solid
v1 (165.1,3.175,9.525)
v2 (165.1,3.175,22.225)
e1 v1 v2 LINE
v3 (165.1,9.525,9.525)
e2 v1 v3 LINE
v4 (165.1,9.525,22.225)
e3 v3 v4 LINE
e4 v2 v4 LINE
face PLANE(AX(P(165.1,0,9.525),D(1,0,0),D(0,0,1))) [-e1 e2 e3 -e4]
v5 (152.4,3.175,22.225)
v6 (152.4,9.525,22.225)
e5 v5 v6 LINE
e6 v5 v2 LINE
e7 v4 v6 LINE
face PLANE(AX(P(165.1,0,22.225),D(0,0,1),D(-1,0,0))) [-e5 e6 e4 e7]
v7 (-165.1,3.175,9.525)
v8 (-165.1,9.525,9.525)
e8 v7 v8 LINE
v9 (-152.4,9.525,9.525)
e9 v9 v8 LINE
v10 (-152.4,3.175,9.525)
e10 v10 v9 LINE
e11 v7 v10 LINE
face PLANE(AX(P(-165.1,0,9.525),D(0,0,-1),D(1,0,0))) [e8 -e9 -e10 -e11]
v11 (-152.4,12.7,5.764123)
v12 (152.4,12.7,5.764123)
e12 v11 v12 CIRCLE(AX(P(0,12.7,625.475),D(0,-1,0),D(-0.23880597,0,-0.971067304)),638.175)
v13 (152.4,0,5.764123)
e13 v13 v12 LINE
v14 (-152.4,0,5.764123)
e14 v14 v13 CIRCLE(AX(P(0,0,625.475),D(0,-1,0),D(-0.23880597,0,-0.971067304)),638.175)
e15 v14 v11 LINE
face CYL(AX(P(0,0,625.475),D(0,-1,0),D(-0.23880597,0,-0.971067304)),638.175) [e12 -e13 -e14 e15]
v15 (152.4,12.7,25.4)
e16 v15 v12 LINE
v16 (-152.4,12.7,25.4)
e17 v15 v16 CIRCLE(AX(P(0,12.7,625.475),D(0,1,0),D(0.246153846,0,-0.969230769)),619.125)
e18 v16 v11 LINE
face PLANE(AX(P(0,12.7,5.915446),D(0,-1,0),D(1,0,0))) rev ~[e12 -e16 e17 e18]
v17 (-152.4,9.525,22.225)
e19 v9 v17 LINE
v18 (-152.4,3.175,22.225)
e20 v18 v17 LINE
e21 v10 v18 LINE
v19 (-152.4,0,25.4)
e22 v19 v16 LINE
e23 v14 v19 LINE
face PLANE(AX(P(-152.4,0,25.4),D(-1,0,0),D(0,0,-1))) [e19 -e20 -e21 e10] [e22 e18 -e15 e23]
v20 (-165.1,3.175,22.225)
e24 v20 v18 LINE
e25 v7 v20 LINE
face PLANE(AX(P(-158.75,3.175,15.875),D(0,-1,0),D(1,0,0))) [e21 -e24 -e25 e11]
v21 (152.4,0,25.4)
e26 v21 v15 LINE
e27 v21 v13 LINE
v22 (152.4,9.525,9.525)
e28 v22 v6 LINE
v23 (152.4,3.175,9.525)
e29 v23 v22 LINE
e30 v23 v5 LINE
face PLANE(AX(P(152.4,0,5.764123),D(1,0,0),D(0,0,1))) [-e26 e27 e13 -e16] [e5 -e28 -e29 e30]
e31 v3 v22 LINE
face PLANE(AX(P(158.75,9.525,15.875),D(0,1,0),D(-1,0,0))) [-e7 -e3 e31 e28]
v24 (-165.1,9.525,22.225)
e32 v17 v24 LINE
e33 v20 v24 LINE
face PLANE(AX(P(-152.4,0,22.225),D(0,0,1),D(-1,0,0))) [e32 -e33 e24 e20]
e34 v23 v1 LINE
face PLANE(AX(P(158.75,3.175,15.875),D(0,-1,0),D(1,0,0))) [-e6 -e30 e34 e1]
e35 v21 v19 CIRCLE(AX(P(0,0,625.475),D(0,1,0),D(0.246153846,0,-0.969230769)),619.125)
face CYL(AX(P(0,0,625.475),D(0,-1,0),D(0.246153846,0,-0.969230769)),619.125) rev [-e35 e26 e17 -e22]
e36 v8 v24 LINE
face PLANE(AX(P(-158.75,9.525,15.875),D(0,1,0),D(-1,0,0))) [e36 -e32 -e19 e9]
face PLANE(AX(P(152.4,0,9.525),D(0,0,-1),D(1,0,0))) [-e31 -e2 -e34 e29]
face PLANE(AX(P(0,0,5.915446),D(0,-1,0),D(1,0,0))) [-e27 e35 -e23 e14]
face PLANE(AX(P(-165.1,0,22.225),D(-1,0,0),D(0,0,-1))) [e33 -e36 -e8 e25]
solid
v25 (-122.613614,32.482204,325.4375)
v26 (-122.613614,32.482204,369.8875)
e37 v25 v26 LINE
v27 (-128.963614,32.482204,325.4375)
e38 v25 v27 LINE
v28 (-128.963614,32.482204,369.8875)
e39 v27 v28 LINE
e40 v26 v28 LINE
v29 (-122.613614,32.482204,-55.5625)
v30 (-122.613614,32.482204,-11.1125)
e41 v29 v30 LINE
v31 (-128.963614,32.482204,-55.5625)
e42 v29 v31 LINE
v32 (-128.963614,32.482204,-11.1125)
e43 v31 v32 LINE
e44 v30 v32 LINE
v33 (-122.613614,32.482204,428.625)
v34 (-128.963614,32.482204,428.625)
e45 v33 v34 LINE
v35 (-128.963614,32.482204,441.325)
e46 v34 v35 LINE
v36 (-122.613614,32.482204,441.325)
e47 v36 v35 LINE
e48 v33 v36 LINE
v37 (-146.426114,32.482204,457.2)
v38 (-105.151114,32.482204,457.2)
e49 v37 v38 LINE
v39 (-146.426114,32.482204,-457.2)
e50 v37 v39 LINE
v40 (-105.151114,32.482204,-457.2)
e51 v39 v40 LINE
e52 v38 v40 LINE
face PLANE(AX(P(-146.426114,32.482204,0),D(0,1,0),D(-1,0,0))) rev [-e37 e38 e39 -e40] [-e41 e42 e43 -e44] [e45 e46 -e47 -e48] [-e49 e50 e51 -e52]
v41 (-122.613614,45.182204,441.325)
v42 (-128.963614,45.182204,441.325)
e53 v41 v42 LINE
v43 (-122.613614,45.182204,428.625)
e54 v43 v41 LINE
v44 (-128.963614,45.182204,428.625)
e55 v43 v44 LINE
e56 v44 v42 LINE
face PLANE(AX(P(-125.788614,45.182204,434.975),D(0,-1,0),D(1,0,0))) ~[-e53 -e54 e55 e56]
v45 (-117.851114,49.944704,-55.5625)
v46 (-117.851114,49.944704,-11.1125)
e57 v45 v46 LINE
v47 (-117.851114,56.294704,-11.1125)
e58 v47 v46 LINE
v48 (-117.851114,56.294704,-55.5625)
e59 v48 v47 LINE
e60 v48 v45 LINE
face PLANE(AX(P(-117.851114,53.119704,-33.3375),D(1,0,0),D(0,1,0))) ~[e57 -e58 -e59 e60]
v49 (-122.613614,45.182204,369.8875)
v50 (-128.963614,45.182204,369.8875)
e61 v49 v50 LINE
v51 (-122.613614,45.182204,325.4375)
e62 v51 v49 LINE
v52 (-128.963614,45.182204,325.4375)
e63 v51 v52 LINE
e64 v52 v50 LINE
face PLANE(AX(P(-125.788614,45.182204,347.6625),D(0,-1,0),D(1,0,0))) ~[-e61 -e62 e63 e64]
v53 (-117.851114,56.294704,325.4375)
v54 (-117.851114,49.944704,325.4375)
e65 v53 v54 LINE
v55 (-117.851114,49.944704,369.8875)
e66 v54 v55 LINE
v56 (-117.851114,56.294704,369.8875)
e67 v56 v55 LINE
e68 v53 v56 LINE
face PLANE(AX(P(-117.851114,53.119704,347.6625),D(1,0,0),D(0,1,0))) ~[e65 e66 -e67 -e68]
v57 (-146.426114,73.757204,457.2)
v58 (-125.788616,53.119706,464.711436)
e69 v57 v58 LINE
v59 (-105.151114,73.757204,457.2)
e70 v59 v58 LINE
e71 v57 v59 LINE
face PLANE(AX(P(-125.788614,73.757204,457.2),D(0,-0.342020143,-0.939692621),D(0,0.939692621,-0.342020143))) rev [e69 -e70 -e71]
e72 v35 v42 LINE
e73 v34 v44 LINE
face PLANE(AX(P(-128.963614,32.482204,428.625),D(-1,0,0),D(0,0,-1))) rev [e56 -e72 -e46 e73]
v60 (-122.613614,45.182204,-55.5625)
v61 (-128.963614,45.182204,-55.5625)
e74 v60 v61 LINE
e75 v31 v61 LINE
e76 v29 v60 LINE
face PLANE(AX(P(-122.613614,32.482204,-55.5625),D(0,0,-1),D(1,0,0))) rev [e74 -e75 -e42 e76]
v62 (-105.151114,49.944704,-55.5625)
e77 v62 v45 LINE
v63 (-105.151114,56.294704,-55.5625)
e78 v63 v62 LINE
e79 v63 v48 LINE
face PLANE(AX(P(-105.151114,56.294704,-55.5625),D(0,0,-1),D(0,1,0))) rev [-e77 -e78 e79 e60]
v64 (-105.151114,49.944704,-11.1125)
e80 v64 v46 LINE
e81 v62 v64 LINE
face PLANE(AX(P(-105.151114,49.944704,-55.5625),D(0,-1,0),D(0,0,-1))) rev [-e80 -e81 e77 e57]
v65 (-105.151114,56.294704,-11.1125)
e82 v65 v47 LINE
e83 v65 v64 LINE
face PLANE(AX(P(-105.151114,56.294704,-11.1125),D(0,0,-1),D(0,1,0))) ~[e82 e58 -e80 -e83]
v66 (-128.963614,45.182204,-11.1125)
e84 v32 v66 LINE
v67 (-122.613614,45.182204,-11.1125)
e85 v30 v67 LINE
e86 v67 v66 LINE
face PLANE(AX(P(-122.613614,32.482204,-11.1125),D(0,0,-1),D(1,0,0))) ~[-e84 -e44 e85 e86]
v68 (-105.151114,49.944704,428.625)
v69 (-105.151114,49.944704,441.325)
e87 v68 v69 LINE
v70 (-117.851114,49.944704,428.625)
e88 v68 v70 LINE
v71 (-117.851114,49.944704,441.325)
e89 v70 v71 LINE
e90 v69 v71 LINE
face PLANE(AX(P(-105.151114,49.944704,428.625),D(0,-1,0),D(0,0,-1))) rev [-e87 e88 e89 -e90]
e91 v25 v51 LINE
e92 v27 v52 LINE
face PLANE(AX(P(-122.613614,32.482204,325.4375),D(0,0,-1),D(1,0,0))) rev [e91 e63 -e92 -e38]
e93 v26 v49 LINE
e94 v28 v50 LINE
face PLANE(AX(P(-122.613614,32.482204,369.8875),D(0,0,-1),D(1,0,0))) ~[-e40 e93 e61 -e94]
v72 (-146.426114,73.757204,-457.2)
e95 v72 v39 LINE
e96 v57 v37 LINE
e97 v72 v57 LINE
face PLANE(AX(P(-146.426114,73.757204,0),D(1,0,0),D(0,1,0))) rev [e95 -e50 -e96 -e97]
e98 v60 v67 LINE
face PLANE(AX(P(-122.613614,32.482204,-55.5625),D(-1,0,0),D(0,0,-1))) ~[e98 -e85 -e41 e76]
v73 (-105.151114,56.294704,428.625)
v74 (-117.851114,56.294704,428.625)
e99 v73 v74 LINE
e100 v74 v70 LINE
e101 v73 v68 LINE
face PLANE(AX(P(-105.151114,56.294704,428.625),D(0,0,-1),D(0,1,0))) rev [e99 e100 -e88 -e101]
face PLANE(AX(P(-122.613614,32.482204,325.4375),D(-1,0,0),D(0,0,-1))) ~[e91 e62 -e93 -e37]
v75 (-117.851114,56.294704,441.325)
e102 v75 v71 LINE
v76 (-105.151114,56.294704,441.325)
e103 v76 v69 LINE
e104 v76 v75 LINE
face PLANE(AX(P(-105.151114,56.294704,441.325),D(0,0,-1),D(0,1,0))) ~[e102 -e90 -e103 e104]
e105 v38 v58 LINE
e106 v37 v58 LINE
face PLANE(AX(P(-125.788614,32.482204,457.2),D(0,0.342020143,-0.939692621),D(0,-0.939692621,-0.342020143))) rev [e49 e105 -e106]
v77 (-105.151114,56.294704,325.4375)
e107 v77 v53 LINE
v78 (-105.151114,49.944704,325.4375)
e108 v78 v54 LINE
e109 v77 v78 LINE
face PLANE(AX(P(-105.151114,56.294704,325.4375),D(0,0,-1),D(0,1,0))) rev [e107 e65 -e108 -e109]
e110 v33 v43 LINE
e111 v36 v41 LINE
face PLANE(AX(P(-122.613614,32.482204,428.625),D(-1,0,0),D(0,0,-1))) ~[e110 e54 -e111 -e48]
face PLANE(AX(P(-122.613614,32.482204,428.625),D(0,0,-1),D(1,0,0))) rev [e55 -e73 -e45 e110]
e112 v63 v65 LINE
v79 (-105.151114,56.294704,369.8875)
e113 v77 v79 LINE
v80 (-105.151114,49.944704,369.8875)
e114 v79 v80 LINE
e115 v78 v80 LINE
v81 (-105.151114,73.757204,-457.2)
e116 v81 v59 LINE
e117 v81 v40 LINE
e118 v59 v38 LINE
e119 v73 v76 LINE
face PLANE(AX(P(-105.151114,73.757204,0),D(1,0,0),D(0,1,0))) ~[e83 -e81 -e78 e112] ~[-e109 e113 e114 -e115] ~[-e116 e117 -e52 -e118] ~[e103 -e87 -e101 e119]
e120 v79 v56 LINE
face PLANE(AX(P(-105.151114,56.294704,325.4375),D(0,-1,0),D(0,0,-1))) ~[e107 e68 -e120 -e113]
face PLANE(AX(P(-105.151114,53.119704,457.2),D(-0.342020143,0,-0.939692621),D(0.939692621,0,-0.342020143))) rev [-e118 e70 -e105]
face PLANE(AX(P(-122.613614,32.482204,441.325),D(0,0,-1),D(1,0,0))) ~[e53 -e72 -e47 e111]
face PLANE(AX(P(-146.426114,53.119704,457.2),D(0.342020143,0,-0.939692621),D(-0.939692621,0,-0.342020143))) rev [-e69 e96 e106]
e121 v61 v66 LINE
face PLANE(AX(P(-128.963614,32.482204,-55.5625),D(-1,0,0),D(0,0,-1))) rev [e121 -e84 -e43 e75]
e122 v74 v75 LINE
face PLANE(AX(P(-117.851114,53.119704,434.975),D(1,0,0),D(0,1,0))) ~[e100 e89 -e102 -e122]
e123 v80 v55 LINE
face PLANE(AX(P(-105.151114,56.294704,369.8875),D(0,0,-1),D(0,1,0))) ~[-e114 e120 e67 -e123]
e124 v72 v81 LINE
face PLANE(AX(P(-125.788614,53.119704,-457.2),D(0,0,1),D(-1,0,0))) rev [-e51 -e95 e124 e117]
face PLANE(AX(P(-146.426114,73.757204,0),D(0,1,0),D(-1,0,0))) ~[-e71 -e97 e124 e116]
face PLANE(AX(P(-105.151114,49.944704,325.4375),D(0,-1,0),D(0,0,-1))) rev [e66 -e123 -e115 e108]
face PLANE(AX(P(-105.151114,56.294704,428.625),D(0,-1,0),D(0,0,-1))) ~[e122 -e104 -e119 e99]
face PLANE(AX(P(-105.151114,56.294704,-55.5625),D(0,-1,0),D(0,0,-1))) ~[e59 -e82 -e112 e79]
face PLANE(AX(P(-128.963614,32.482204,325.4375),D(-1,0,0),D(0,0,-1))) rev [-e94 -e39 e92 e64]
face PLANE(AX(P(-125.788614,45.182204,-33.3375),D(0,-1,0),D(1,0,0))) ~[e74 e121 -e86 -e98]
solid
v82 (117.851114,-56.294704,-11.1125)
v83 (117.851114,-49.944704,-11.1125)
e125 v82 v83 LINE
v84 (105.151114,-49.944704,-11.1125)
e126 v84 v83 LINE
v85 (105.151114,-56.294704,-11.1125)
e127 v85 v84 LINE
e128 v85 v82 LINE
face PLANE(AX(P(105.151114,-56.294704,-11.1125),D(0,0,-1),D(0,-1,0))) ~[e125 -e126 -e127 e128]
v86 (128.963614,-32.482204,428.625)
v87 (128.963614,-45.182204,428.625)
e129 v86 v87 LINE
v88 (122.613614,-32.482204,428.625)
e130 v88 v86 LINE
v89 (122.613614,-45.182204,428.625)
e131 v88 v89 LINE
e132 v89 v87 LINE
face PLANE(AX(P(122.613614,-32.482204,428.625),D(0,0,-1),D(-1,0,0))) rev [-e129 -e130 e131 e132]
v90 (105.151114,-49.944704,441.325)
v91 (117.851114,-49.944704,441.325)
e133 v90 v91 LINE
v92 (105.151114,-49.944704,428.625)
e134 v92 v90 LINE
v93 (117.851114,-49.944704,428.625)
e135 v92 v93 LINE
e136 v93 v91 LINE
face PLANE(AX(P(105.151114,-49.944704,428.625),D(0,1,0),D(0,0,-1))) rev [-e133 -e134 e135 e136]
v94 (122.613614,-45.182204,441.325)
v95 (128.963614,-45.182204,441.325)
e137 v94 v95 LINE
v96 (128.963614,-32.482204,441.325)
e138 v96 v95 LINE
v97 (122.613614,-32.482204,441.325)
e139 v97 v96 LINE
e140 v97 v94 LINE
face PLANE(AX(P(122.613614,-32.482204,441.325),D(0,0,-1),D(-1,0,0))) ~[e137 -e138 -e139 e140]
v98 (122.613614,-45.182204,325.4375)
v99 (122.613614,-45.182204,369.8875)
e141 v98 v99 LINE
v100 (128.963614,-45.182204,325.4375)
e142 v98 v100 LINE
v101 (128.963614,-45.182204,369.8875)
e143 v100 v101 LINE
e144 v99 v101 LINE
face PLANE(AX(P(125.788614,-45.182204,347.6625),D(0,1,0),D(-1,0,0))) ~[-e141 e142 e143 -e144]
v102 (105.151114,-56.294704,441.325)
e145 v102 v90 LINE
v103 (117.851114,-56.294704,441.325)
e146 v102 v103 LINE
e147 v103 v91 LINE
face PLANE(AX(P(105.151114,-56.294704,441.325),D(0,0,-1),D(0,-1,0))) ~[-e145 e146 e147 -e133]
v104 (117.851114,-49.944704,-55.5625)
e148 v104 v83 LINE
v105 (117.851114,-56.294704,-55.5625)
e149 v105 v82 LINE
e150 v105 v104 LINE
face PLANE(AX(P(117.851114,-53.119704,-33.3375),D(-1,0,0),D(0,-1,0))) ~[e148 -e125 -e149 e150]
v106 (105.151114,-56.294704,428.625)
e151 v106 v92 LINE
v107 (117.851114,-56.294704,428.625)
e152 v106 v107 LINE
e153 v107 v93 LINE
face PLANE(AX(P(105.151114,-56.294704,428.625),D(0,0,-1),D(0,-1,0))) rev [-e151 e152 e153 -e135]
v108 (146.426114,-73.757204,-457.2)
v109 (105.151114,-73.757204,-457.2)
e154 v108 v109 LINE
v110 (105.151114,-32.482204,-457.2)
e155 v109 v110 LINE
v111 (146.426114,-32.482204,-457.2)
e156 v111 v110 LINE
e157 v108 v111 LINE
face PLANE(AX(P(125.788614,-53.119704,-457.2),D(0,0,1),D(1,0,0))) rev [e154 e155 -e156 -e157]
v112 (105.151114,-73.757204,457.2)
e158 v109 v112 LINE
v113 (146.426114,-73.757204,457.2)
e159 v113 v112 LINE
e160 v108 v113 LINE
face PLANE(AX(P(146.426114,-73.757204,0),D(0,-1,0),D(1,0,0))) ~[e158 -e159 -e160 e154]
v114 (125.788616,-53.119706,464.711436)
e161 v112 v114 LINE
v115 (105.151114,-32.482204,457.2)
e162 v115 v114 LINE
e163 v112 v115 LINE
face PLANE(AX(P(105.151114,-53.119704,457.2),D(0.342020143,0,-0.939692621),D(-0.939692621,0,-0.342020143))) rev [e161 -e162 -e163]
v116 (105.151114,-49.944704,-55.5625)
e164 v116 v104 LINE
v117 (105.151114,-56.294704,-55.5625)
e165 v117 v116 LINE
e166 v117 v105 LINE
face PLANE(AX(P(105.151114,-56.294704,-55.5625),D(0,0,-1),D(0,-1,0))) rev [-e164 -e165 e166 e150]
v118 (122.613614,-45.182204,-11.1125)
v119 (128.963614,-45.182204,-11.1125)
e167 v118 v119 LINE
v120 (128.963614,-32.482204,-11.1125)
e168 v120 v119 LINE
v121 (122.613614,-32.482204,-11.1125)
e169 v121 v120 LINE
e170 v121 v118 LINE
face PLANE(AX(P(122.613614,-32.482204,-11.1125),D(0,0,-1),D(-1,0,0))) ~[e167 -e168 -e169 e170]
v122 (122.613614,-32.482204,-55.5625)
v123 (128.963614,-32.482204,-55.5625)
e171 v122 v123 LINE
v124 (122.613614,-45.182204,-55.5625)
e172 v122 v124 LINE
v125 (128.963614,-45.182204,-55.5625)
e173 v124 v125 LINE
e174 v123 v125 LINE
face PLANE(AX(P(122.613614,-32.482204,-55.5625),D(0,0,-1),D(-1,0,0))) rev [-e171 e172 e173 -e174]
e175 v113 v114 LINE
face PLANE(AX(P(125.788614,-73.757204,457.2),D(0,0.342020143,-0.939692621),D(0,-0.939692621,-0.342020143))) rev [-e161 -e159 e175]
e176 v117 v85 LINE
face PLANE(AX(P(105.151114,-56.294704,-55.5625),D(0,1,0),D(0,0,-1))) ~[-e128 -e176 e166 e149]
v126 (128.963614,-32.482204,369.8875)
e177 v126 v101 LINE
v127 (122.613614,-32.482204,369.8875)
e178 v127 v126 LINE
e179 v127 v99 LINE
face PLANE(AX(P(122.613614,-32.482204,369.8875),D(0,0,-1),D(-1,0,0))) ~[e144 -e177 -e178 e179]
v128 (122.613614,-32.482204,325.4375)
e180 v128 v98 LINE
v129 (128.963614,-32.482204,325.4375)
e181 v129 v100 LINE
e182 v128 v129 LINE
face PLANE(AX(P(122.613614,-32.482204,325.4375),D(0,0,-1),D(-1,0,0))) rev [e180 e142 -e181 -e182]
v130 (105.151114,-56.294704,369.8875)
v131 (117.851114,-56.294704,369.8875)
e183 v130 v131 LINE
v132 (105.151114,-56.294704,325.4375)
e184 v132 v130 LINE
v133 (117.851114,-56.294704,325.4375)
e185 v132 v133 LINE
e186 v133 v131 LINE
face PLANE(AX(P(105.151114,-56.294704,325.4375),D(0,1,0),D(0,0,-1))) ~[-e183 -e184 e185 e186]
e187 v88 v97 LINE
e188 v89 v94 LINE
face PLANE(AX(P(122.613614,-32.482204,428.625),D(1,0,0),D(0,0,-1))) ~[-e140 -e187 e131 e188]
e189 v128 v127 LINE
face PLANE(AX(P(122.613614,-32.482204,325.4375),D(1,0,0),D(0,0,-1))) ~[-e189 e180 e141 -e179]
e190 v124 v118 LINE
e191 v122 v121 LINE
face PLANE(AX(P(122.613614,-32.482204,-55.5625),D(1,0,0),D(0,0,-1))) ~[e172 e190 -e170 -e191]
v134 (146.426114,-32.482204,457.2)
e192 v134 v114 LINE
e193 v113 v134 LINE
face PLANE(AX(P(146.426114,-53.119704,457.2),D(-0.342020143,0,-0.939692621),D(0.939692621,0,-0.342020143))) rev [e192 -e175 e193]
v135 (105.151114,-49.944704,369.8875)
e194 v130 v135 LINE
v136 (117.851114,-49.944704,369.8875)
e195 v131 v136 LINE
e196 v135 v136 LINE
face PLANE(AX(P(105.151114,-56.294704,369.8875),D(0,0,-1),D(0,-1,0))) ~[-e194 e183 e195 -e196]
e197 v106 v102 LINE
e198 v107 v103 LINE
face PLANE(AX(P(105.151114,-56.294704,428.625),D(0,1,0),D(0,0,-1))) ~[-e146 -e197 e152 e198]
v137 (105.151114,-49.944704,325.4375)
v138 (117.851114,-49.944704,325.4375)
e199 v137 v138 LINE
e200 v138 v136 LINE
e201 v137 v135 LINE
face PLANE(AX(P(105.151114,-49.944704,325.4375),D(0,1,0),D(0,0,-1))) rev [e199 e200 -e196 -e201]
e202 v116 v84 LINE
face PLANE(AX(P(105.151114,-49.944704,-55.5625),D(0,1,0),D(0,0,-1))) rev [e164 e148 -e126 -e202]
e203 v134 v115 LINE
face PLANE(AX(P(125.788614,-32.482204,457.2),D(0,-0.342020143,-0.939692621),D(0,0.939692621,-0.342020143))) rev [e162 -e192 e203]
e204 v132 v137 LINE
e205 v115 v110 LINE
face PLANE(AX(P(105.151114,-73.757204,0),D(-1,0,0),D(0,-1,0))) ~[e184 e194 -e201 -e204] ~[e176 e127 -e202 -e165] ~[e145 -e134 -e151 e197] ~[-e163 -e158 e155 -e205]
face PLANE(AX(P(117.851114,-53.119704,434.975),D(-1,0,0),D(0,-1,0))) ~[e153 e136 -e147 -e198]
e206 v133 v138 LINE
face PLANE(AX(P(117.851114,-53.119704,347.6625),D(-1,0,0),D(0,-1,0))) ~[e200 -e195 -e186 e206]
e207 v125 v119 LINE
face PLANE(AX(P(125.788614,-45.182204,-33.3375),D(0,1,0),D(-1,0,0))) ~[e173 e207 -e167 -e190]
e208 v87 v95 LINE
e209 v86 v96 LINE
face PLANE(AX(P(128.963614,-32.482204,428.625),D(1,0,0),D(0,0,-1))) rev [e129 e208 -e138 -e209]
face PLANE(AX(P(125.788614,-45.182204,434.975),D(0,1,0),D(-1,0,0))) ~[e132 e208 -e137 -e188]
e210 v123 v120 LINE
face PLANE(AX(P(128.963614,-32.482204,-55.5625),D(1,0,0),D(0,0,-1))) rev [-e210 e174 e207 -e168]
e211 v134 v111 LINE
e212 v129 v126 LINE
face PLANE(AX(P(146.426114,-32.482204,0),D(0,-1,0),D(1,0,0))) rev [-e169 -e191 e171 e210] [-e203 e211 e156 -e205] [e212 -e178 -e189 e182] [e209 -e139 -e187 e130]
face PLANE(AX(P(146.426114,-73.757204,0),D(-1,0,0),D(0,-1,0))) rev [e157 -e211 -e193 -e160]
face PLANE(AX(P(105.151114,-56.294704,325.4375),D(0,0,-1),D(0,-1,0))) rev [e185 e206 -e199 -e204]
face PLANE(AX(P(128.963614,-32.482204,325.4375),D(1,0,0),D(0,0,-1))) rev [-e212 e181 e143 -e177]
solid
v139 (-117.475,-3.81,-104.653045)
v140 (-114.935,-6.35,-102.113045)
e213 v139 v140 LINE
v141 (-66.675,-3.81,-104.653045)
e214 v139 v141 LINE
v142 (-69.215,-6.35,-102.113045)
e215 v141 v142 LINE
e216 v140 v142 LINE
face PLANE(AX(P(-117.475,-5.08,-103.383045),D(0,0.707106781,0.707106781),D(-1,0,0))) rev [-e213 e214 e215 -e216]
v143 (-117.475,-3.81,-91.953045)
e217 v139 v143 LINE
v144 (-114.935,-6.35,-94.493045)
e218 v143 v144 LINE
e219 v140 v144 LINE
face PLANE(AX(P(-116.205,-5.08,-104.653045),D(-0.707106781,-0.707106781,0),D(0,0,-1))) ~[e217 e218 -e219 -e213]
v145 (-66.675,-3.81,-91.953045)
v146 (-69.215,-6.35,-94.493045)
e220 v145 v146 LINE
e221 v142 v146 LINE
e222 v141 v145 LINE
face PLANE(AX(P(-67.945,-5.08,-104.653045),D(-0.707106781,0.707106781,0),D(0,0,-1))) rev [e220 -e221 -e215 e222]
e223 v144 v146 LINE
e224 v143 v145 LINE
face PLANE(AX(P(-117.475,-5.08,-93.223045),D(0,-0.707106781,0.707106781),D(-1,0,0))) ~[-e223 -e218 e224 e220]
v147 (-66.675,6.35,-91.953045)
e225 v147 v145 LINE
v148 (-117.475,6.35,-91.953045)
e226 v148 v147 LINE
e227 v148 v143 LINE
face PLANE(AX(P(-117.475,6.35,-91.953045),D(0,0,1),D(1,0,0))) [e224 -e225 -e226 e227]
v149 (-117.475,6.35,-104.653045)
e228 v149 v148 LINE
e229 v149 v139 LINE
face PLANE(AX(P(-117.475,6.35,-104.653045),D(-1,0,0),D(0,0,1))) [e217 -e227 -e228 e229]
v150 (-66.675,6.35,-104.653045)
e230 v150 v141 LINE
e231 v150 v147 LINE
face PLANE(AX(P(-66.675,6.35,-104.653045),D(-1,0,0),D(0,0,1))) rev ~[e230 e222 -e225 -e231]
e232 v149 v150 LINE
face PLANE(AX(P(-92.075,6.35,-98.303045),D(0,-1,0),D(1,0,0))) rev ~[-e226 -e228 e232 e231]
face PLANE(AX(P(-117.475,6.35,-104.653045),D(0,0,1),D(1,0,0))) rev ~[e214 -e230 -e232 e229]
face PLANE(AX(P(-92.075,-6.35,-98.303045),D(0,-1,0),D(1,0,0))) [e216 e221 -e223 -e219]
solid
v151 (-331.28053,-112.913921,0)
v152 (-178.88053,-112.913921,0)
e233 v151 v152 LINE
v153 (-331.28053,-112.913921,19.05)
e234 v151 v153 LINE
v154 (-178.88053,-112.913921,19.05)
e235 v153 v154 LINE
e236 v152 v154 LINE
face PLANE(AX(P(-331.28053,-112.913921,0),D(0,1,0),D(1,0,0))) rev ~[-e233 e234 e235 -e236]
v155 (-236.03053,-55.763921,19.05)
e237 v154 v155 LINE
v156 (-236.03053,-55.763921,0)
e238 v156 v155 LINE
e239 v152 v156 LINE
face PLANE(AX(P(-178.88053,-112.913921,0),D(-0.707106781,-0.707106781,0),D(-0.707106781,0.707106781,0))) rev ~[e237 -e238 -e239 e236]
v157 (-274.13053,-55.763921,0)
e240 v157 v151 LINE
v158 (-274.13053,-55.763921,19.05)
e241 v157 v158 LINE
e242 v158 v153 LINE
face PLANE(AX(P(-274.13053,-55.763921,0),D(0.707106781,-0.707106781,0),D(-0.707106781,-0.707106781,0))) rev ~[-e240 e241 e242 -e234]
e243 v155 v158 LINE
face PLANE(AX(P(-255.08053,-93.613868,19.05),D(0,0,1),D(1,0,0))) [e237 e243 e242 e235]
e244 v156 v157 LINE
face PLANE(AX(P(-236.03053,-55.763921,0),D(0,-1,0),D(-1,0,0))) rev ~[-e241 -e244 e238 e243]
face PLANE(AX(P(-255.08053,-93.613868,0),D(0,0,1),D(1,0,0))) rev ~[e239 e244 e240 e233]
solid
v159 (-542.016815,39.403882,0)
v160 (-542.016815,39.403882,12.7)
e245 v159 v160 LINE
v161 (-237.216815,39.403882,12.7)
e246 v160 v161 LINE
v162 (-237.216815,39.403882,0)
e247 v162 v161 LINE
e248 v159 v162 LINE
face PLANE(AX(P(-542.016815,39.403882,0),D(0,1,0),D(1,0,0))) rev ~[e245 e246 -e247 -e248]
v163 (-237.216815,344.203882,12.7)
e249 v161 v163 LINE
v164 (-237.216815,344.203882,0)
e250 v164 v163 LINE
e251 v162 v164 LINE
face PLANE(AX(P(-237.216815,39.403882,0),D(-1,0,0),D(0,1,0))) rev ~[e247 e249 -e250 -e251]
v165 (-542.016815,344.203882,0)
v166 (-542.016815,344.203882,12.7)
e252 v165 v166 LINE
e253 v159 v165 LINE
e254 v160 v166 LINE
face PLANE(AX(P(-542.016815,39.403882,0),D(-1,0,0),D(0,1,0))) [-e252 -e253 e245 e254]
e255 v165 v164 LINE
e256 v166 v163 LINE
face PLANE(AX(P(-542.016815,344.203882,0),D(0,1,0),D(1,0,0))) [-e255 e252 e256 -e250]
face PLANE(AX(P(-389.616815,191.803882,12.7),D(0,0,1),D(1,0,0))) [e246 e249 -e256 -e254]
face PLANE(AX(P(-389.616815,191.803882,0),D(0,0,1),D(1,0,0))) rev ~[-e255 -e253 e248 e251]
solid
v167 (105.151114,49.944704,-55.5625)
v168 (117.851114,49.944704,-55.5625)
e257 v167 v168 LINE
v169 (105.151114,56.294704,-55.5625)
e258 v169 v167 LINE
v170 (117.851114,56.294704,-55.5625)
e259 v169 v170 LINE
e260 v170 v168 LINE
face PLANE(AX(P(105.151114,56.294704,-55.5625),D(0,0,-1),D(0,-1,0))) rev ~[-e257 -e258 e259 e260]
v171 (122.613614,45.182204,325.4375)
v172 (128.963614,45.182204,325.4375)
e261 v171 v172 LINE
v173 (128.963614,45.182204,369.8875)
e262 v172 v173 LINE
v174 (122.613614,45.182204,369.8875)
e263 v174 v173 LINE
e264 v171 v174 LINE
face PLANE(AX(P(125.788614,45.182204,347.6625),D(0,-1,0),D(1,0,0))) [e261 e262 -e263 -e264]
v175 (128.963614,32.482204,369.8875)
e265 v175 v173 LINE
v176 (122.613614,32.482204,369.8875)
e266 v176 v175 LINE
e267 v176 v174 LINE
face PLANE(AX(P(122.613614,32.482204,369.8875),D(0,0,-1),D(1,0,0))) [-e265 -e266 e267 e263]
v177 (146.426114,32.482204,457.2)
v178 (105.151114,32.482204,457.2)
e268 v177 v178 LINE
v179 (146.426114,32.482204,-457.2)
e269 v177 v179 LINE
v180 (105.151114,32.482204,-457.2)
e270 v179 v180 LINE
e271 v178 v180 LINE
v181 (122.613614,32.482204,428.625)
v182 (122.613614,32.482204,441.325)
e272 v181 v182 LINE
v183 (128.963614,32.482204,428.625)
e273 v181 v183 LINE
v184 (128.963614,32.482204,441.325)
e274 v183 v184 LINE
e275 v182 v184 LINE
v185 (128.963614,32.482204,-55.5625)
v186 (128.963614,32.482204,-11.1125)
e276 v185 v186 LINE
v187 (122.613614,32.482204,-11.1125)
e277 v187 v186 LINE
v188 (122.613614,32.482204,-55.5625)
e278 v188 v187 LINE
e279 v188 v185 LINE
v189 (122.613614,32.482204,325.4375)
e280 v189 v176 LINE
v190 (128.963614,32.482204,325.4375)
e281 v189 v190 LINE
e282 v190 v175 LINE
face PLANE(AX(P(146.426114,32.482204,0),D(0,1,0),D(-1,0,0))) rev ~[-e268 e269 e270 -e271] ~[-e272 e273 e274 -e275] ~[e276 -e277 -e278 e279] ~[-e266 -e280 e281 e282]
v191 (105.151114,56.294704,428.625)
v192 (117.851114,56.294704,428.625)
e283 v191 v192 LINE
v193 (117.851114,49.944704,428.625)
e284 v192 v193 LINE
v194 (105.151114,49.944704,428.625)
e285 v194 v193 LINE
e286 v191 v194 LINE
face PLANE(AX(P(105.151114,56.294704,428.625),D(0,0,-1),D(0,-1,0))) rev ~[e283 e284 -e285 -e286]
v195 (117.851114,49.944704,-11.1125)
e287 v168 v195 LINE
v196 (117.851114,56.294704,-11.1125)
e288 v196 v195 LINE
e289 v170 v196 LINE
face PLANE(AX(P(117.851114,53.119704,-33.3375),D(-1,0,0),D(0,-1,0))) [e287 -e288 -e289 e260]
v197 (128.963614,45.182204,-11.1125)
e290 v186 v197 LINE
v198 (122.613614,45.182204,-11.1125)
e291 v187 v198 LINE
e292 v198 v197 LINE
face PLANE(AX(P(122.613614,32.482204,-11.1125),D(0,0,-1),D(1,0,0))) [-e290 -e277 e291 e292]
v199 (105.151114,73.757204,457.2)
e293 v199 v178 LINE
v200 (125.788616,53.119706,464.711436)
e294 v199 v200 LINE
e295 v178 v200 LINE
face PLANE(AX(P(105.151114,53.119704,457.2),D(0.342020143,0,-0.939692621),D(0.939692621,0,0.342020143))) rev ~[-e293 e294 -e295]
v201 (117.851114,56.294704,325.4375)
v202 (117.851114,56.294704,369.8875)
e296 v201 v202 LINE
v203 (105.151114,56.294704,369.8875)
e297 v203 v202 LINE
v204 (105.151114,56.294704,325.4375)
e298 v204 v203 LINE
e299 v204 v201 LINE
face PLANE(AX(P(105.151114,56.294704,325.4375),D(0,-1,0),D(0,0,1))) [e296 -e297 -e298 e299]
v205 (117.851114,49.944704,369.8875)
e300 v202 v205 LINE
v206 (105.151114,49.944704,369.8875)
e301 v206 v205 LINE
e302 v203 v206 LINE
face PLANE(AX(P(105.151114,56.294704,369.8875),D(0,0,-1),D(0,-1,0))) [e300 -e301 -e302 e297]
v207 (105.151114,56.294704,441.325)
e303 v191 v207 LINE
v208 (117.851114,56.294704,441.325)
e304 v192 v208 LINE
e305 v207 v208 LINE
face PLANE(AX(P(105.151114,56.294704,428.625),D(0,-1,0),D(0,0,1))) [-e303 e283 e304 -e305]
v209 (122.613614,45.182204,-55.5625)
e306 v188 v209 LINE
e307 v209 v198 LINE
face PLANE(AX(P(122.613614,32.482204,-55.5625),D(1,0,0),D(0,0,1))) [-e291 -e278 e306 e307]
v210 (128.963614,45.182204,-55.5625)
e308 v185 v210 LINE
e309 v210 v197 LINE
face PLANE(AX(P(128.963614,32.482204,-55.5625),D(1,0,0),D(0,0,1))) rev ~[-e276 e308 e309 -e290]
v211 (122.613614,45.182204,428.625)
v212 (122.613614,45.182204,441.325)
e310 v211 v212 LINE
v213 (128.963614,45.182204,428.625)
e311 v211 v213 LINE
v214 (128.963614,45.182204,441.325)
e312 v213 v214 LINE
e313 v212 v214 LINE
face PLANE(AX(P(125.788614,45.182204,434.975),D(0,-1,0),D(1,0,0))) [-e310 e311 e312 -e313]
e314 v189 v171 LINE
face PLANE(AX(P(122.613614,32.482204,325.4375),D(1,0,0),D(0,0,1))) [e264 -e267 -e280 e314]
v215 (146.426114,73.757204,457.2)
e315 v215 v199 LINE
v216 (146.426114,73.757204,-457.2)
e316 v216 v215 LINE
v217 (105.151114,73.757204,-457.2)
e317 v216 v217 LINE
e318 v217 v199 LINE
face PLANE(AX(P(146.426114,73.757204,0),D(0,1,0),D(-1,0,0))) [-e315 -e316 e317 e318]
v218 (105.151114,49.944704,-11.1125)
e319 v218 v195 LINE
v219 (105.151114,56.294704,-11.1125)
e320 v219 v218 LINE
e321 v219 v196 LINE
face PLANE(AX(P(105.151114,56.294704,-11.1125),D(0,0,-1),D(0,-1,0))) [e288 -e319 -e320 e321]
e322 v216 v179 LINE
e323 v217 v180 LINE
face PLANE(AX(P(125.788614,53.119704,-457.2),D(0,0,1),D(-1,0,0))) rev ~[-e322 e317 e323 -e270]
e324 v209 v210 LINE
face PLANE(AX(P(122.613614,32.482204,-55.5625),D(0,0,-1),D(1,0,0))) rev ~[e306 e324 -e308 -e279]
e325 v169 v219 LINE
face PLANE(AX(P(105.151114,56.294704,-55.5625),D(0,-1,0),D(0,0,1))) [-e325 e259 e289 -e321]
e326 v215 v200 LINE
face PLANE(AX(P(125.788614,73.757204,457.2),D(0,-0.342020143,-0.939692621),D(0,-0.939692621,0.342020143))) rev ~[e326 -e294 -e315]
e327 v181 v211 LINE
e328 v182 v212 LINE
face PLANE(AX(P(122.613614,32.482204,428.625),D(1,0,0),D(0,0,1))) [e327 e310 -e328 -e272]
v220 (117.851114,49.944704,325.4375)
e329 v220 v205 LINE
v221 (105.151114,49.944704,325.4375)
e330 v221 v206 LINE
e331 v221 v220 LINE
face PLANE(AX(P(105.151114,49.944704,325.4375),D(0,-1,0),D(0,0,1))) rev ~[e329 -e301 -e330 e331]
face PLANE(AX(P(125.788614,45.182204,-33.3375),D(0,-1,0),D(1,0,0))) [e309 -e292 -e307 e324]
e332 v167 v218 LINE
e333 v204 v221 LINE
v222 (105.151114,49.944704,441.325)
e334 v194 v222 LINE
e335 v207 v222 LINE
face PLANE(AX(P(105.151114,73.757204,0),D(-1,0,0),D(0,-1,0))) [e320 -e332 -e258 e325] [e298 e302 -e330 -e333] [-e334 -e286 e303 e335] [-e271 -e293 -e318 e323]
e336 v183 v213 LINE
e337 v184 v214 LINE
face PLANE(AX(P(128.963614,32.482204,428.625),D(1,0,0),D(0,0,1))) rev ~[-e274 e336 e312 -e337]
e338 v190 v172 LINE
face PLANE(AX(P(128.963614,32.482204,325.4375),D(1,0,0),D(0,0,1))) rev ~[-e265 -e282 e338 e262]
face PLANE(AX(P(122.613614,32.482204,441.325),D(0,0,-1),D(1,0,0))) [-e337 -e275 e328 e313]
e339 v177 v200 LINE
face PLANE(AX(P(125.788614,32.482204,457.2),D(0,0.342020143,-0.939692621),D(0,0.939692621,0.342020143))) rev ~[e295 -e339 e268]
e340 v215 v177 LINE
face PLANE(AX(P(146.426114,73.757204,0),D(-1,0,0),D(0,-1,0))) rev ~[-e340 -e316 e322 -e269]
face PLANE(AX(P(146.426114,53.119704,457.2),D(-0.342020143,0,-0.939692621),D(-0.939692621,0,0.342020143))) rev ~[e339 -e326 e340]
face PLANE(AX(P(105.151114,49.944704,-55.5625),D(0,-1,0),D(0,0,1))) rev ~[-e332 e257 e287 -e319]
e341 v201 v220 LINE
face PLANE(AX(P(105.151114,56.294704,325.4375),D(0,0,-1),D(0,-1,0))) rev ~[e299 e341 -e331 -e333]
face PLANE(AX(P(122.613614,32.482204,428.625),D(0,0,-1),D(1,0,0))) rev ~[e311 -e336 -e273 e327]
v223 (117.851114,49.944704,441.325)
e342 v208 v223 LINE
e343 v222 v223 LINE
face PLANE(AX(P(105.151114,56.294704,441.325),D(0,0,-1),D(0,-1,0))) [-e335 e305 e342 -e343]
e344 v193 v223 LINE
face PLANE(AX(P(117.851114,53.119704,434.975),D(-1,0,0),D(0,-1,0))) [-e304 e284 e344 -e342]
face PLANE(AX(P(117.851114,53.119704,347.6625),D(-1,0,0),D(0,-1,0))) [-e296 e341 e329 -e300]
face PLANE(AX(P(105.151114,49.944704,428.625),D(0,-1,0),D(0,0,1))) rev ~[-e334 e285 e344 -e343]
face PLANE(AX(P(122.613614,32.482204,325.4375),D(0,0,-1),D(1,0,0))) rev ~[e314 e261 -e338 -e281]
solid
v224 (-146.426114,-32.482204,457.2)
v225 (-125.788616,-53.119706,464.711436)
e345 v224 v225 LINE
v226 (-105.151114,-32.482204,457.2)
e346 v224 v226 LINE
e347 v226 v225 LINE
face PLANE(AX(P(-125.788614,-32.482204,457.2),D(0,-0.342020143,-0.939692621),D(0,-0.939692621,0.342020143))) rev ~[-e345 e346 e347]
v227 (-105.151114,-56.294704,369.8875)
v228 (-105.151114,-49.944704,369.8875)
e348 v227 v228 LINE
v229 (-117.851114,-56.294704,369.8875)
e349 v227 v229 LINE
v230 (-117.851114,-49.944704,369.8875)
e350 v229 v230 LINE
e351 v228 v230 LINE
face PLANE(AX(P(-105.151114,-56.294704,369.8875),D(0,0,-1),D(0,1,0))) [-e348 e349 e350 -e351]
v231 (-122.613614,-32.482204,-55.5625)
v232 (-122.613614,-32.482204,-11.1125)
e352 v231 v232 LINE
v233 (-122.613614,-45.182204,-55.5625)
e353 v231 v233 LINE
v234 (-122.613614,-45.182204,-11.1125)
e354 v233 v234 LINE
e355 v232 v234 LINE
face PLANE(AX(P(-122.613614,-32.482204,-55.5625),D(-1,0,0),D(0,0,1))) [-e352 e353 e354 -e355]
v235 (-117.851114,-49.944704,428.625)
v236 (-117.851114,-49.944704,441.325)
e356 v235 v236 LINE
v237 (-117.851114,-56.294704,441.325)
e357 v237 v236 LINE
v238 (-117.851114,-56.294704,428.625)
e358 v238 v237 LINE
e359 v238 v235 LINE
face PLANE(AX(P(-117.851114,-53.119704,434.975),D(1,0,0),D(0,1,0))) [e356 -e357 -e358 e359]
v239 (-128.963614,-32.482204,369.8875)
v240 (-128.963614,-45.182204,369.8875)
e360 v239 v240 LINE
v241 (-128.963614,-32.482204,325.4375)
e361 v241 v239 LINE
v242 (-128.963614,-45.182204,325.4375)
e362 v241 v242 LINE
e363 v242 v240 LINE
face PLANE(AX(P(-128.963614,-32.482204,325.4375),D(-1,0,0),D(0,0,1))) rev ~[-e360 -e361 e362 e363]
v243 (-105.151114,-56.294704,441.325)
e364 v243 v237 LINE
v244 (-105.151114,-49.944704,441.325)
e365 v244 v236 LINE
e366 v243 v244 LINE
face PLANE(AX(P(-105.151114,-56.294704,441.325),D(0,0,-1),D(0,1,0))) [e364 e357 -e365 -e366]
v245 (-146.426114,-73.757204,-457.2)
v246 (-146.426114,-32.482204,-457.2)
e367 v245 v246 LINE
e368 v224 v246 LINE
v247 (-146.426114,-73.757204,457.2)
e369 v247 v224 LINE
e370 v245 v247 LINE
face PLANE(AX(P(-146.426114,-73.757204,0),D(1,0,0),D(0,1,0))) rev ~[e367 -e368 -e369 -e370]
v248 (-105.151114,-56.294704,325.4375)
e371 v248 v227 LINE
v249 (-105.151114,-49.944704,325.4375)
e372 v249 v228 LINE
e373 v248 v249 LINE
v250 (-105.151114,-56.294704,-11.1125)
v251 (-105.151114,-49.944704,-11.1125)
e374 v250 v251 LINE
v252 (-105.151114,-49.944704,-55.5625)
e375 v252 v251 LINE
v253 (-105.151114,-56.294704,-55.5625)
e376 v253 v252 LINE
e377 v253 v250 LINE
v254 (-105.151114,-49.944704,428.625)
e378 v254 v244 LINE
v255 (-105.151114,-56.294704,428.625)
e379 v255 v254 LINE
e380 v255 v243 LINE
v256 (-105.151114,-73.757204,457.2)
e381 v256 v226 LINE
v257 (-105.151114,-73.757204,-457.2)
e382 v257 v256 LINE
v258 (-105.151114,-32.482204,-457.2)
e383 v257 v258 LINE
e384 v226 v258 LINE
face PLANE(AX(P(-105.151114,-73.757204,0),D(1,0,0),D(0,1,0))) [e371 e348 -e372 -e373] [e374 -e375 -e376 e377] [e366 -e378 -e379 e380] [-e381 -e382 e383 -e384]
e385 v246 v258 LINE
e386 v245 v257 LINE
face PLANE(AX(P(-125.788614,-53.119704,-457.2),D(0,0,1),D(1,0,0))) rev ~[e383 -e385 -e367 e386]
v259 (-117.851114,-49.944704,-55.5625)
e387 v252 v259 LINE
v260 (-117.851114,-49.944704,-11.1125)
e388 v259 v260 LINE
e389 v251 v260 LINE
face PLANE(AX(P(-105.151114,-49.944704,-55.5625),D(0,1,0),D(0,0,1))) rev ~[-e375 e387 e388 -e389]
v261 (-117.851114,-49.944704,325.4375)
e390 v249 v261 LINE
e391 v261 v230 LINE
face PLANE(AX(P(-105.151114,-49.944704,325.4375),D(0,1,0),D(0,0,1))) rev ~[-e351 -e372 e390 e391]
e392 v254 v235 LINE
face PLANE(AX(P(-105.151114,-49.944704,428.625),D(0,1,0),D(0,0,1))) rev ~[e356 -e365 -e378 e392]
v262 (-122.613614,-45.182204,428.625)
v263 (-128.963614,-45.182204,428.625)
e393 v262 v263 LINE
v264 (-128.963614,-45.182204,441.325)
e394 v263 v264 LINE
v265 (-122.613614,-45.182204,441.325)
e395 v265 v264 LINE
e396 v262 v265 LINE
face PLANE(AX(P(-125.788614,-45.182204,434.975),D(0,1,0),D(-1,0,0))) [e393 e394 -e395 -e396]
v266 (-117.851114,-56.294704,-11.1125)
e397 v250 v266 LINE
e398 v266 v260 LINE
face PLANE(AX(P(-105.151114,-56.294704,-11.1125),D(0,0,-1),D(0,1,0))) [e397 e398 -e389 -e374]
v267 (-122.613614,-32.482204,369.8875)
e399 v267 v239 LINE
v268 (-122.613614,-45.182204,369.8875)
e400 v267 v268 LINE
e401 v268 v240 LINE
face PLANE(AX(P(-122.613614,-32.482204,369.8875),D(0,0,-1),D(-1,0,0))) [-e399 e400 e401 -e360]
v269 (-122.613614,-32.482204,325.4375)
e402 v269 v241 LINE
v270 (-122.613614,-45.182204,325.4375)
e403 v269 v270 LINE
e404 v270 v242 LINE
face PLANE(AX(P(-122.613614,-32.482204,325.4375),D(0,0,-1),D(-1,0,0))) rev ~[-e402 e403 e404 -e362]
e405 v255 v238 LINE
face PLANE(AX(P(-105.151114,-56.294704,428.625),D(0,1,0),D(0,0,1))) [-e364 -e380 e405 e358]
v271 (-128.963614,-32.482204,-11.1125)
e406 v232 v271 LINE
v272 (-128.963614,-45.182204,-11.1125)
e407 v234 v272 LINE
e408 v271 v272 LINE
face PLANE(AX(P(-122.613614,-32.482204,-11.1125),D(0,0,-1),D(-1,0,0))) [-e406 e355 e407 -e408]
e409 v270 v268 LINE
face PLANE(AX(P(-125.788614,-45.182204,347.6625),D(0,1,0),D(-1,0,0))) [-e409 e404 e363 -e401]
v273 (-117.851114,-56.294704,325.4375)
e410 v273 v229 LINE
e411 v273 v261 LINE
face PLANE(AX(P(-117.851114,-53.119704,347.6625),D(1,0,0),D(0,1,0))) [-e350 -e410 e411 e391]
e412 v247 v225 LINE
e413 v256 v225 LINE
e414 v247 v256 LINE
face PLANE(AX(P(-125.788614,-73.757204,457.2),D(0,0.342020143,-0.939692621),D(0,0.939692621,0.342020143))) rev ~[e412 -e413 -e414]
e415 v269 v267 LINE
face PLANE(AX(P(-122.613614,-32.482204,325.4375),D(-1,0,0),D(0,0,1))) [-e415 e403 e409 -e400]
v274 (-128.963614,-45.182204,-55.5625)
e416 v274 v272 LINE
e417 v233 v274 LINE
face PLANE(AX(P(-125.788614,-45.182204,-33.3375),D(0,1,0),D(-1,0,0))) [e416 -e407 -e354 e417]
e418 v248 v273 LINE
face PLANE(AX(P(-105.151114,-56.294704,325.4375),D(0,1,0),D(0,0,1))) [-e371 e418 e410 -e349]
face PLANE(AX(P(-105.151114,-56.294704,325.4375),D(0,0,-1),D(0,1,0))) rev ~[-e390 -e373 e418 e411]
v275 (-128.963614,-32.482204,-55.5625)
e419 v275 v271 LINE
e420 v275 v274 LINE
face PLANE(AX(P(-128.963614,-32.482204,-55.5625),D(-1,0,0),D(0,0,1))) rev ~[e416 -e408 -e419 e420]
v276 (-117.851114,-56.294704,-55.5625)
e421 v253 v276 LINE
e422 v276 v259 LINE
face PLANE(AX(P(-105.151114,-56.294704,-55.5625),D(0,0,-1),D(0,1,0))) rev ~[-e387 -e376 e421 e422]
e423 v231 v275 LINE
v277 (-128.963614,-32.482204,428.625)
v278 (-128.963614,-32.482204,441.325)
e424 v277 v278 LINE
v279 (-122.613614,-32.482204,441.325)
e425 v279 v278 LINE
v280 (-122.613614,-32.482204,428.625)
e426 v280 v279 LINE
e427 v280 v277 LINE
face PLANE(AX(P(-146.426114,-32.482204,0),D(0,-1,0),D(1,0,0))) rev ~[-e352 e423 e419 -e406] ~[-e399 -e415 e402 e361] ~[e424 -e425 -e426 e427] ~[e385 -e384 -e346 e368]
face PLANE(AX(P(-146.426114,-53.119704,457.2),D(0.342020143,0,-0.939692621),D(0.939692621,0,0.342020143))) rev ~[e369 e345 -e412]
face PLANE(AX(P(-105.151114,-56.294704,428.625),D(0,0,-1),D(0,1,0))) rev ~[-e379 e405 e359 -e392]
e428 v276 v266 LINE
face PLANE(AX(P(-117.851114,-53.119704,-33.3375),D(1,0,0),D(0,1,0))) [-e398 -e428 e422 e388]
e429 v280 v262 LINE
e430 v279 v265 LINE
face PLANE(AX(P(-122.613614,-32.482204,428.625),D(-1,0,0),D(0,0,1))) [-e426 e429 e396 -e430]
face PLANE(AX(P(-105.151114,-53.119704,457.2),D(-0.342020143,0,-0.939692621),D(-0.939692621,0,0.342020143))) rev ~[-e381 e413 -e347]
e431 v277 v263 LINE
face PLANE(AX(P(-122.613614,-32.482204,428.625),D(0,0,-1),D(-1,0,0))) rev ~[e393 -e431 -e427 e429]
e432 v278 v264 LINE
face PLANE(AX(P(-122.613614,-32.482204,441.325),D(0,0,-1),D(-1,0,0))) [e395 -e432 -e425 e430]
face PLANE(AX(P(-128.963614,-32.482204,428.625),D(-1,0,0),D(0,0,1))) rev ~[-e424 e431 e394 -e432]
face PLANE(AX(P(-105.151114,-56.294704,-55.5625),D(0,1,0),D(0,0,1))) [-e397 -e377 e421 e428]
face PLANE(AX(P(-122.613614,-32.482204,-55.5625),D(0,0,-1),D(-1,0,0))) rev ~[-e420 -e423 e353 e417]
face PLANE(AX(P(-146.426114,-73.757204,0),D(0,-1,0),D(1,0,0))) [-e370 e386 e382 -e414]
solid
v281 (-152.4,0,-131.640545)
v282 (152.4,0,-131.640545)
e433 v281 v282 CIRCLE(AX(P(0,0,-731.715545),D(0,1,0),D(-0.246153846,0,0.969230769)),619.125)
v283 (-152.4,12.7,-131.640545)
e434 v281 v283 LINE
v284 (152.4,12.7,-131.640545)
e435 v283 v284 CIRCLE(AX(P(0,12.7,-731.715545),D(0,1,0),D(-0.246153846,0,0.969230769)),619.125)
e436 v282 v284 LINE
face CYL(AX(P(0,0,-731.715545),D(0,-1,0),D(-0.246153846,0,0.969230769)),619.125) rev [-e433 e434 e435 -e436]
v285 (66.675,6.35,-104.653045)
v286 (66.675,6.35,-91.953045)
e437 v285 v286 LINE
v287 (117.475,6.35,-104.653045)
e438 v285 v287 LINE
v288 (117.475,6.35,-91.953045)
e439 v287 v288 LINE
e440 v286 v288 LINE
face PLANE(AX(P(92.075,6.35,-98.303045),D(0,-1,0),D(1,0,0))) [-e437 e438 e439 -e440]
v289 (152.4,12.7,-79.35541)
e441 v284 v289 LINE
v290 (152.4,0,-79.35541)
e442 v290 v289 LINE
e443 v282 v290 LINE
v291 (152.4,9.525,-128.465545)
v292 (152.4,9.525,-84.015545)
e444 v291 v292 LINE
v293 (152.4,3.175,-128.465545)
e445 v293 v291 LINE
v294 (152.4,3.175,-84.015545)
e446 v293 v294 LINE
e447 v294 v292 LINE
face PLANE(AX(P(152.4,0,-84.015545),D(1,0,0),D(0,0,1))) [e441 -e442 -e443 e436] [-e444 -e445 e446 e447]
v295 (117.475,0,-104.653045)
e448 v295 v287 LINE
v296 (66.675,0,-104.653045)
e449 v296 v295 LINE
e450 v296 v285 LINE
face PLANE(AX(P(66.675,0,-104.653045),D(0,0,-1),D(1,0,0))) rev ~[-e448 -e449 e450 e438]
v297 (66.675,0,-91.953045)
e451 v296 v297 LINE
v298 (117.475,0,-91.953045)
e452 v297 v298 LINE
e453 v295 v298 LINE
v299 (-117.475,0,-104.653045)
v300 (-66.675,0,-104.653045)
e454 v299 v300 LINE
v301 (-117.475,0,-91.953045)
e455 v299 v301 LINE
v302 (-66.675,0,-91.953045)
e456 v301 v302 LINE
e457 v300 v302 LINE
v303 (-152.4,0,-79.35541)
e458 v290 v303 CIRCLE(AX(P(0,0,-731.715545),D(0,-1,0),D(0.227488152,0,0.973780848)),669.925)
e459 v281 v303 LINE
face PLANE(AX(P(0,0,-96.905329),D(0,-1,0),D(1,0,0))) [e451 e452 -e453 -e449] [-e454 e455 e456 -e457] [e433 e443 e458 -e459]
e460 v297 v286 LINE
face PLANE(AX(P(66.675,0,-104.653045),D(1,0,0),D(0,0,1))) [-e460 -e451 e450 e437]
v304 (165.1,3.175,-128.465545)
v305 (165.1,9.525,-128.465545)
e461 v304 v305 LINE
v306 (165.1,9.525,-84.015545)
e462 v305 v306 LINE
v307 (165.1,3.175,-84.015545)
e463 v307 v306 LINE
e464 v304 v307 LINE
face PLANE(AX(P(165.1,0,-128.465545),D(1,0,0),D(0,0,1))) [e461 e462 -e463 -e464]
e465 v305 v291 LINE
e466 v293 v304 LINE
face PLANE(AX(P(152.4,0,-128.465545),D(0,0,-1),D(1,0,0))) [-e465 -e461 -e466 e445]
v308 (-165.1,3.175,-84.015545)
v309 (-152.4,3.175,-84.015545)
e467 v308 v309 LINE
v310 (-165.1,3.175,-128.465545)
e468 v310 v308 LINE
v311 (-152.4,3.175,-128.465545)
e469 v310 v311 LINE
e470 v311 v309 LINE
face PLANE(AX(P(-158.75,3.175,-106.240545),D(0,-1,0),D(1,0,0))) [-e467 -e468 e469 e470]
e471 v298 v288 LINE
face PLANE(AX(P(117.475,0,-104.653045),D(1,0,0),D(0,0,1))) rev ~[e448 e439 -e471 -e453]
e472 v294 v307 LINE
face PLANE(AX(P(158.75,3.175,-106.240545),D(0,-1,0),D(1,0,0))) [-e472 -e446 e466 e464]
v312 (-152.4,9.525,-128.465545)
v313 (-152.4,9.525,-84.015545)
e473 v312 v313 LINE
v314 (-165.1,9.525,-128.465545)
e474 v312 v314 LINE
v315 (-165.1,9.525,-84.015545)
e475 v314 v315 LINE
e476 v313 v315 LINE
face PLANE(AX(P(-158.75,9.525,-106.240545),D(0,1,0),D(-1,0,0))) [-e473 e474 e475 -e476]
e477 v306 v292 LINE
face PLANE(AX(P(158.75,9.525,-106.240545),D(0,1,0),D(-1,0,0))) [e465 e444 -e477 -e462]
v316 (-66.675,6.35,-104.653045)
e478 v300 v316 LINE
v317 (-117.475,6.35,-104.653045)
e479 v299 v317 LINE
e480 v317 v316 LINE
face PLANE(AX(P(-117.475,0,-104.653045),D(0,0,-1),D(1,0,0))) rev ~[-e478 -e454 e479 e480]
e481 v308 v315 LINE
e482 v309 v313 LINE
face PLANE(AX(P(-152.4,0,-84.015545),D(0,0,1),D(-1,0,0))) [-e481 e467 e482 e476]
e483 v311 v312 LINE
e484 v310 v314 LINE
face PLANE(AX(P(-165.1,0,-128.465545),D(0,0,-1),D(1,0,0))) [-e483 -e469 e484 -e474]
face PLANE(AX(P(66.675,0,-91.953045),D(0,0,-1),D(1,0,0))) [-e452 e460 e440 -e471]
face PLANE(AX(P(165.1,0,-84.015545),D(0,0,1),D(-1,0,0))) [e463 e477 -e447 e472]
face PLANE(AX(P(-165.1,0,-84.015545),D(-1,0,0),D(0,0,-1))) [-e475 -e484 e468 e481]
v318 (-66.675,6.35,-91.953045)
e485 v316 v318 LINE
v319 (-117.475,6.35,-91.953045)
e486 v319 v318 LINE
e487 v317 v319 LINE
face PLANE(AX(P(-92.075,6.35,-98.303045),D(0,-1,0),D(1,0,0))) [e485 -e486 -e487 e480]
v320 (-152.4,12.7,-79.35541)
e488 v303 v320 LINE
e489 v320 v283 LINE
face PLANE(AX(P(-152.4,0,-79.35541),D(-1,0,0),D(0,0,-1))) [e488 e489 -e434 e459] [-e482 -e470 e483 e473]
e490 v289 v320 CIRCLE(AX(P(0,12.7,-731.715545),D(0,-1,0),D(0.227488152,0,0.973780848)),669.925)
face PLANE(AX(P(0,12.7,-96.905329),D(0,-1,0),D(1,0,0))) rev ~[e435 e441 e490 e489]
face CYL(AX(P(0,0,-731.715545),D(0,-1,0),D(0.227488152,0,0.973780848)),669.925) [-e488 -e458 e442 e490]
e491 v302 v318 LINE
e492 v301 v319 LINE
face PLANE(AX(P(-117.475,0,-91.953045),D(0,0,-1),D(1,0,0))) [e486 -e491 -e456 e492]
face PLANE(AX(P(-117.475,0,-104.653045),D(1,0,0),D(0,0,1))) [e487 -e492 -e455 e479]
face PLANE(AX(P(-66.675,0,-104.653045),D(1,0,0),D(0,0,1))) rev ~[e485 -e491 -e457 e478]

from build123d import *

# Parameters (mm, degrees)
F1_DEPTH   = 12.7
F3_DEPTH   = 12.7
F4_W       = 50.8
F4_H       = 12.7
F5_DEPTH   = 6.35
F6_W       = 41.275
F6_H       = 41.275
F7_DEPTH   = 457.2
F7_FACE1_W = 41.275
F7_FACE1_H = 41.275
F9_DEPTH   = 7.9375
F9_TAPER   = 70
F10_W      = 6.35
F10_H      = 12.7
F10_H_2    = 44.45
F12_DEPTH  = 12.7
F11_W      = 12.7
F11_H      = 12.7
F13_DEPTH  = 3.175
F14_W      = 12.7
F14_H      = 12.7
F15_DEPTH  = 3.175
F16_W      = 12.7
F16_H      = 44.45
F17_DEPTH  = 3.175
F18_W      = 12.7
F18_H      = 44.45
F19_DEPTH  = 3.175
F8_W       = 6.35
F8_H       = 12.7
F8_H_2     = 44.45
F20_DEPTH  = 12.7
F23_W      = 50.8
F23_H      = 12.7
F24_DEPTH  = 12.7
F25_SIZE   = 2.54
F26_SIZE   = 2.54
F29_DEPTH  = 19.05
F30_W      = 304.8
F30_H      = 304.8
F31_DEPTH  = 12.7


with BuildPart() as f1:
    # F0 (on Front) → F1 (new body)
    with BuildSketch(Plane.XZ):
        with BuildLine():
            Line((-152.4, 22.225), (-165.1, 22.225))
            Line((-165.1, 22.225), (-165.1, 9.525))
            Line((-165.1, 9.525), (-152.4, 9.525))
            Line((-152.4, 9.525), (-152.4, 5.7641233607))
            ThreePointArc((-152.4, 5.7641233607), (0, -12.7), (152.4, 5.7641233607))
            Line((152.4, 5.7641233607), (152.4, 9.525))
            Line((152.4, 9.525), (165.1, 9.525))
            Line((165.1, 9.525), (165.1, 22.225))
            Line((165.1, 22.225), (152.4, 22.225))
            Line((152.4, 22.225), (152.4, 25.4))
            ThreePointArc((152.4, 25.4), (0, 6.35), (-152.4, 25.4))
            Line((-152.4, 25.4), (-152.4, 22.225))
        make_face()
    extrude(amount=-F1_DEPTH)

    # F11 (on face) → F13 (cut)
    with BuildSketch(Plane.XZ):
        with Locations((-158.75, 15.875)):
            Rectangle(F11_W, F11_H)
        with Locations((158.75, 15.875)):
            Rectangle(F11_W, F11_H)
    extrude(amount=-F13_DEPTH, mode=Mode.SUBTRACT)

    # F14 (on face) → F15 (cut)
    with BuildSketch(Plane(origin=(0, 12.7, 0), x_dir=(-1, 0, 0), z_dir=(0, 1, 0))):
        with Locations((-158.75, 15.875)):
            Rectangle(F14_W, F14_H)
        with Locations((158.75, 15.875)):
            Rectangle(F14_W, F14_H)
    extrude(amount=-F15_DEPTH, mode=Mode.SUBTRACT)


with BuildPart() as f3:
    # F2 (on Front) → F3 (new body)
    with BuildSketch(Plane.XZ):
        with BuildLine():
            Line((-152.4, -84.0155451241), (-165.1, -84.0155451241))
            Line((-165.1, -84.0155451241), (-165.1, -128.4655451241))
            Line((-165.1, -128.4655451241), (-152.4, -128.4655451241))
            Line((-152.4, -128.4655451241), (-152.4, -131.6405451241))
            ThreePointArc((-152.4, -131.6405451241), (0, -112.5905451241), (152.4, -131.6405451241))
            Line((152.4, -131.6405451241), (152.4, -128.4655451241))
            Line((152.4, -128.4655451241), (165.1, -128.4655451241))
            Line((165.1, -128.4655451241), (165.1, -84.0155451241))
            Line((165.1, -84.0155451241), (152.4, -84.0155451241))
            Line((152.4, -84.0155451241), (152.4, -79.3554102101))
            ThreePointArc((152.4, -79.3554102101), (0, -61.7905451241), (-152.4, -79.3554102101))
            Line((-152.4, -79.3554102101), (-152.4, -84.0155451241))
        make_face()
    extrude(amount=-F3_DEPTH)

    # F4 (on face) → F5 (cut)
    with BuildSketch(Plane.XZ):
        with Locations((-92.075, -98.3030451241)):
            Rectangle(F4_W, F4_H)
        with Locations((92.075, -98.3030451241)):
            Rectangle(F4_W, F4_H)
    extrude(amount=-F5_DEPTH, mode=Mode.SUBTRACT)

    # F16 (on face) → F17 (cut)
    with BuildSketch(Plane(origin=(0, 12.7, 0), x_dir=(-1, 0, 0), z_dir=(0, 1, 0))):
        with Locations((-158.75, -106.2405451241)):
            Rectangle(F16_W, F16_H)
        with Locations((158.75, -106.2405451241)):
            Rectangle(F16_W, F16_H)
    extrude(amount=-F17_DEPTH, mode=Mode.SUBTRACT)

    # F18 (on face) → F19 (cut)
    with BuildSketch(Plane.XZ):
        with Locations((-158.75, -106.2405451241)):
            Rectangle(F18_W, F18_H)
        with Locations((158.75, -106.2405451241)):
            Rectangle(F18_W, F18_H)
    extrude(amount=-F19_DEPTH, mode=Mode.SUBTRACT)


with BuildPart() as f7:
    # F6 (on Top) → F7 (new body, symmetric)
    with BuildSketch(Plane.XY):
        with Locations((-125.7886141539, -53.1197041273)):
            Rectangle(F6_W, F6_H)
    extrude(amount=F7_DEPTH, both=True)

    # F7_face1 (on face) → F9 (join)
    with BuildSketch(Plane(origin=(-125.7886141539, -53.1197041273, 457.2), x_dir=(1, 0, 0), z_dir=(0, 0, 1))):
        Rectangle(F7_FACE1_W, F7_FACE1_H)
    extrude(amount=F9_DEPTH, taper=F9_TAPER)

    # F10 (on face) → F12 (cut)
    with BuildSketch(Plane(origin=(0, -32.4822041273, 0), x_dir=(-1, 0, 0), z_dir=(0, 1, 0))):
        with Locations((125.7886141539, 434.975)):
            Rectangle(F10_W, F10_H)
        with Locations((125.7886141539, 347.6625)):
            Rectangle(F10_W, F10_H_2)
        with Locations((125.7886141539, -33.3375)):
            Rectangle(F10_W, F10_H_2)
    extrude(amount=-F12_DEPTH, mode=Mode.SUBTRACT)

    # F8 (on face) → F20 (cut)
    with BuildSketch(Plane.YZ.offset(-105.1511141539)):
        with Locations((-53.1197041273, 434.975)):
            Rectangle(F8_W, F8_H)
        with Locations((-53.1197041273, 347.6625)):
            Rectangle(F8_W, F8_H_2)
        with Locations((-53.1197041273, -33.3375)):
            Rectangle(F8_W, F8_H_2)
    extrude(amount=-F20_DEPTH, mode=Mode.SUBTRACT)


with BuildPart() as f21_1:
    # F21: instance of F7
    add(f7.part.mirror(Plane.YZ))


with BuildPart() as f22_1:
    # F22: instance of F21_1
    add(f21_1.part.mirror(Plane.XZ))


with BuildPart() as f22_2:
    # F22: instance of F7
    add(f7.part.mirror(Plane.XZ))


with BuildPart() as f24:
    # F23 (on face) → F24 (new body)
    with BuildSketch(Plane.XZ.offset(-6.35)):
        with Locations((-92.075, -98.3030451241)):
            Rectangle(F23_W, F23_H)
    extrude(amount=F24_DEPTH)

    # F25
    f25_edges = [f24.edges().sort_by_distance(p)[0] for p in [
        (-92.075, -6.35, -91.953045),
        (-117.475, -6.35, -98.303045),
        (-92.075, -6.35, -104.653045),
        (-66.675, -6.35, -98.303045),
    ]]
    chamfer(f25_edges, length=F25_SIZE)


with BuildPart() as f24b:
    # F23 (on face) → F24, piece 2 (new body)
    with BuildSketch(Plane.XZ.offset(-6.35)):
        with Locations((92.075, -98.3030451241)):
            Rectangle(F23_W, F23_H)
    extrude(amount=F24_DEPTH)

    # F26
    f26_edges = [f24b.edges().sort_by_distance(p)[0] for p in [
        (92.075, -6.35, -91.953045),
        (66.675, -6.35, -98.303045),
        (92.075, -6.35, -104.653045),
        (117.475, -6.35, -98.303045),
    ]]
    chamfer(f26_edges, length=F26_SIZE)


with BuildPart() as f29:
    # F28 (on Top) → F29 (new body)
    with BuildSketch(Plane.XY):
        Polygon((-274.1305302535, -55.7639211248), (-331.2805302535, -112.9139211248), (-178.8805302535, -112.9139211248), (-236.0305302535, -55.7639211248), align=None)
    extrude(amount=F29_DEPTH)


with BuildPart() as f31:
    # F30 (on Top) → F31 (new body)
    with BuildSketch(Plane.XY):
        with Locations((-389.6168153524, 191.8038818777)):
            Rectangle(F30_W, F30_H)
    extrude(amount=F31_DEPTH)


solid = Compound([f1.part, f3.part, f7.part, f21_1.part, f22_1.part, f22_2.part, f24.part, f29.part, f31.part])
